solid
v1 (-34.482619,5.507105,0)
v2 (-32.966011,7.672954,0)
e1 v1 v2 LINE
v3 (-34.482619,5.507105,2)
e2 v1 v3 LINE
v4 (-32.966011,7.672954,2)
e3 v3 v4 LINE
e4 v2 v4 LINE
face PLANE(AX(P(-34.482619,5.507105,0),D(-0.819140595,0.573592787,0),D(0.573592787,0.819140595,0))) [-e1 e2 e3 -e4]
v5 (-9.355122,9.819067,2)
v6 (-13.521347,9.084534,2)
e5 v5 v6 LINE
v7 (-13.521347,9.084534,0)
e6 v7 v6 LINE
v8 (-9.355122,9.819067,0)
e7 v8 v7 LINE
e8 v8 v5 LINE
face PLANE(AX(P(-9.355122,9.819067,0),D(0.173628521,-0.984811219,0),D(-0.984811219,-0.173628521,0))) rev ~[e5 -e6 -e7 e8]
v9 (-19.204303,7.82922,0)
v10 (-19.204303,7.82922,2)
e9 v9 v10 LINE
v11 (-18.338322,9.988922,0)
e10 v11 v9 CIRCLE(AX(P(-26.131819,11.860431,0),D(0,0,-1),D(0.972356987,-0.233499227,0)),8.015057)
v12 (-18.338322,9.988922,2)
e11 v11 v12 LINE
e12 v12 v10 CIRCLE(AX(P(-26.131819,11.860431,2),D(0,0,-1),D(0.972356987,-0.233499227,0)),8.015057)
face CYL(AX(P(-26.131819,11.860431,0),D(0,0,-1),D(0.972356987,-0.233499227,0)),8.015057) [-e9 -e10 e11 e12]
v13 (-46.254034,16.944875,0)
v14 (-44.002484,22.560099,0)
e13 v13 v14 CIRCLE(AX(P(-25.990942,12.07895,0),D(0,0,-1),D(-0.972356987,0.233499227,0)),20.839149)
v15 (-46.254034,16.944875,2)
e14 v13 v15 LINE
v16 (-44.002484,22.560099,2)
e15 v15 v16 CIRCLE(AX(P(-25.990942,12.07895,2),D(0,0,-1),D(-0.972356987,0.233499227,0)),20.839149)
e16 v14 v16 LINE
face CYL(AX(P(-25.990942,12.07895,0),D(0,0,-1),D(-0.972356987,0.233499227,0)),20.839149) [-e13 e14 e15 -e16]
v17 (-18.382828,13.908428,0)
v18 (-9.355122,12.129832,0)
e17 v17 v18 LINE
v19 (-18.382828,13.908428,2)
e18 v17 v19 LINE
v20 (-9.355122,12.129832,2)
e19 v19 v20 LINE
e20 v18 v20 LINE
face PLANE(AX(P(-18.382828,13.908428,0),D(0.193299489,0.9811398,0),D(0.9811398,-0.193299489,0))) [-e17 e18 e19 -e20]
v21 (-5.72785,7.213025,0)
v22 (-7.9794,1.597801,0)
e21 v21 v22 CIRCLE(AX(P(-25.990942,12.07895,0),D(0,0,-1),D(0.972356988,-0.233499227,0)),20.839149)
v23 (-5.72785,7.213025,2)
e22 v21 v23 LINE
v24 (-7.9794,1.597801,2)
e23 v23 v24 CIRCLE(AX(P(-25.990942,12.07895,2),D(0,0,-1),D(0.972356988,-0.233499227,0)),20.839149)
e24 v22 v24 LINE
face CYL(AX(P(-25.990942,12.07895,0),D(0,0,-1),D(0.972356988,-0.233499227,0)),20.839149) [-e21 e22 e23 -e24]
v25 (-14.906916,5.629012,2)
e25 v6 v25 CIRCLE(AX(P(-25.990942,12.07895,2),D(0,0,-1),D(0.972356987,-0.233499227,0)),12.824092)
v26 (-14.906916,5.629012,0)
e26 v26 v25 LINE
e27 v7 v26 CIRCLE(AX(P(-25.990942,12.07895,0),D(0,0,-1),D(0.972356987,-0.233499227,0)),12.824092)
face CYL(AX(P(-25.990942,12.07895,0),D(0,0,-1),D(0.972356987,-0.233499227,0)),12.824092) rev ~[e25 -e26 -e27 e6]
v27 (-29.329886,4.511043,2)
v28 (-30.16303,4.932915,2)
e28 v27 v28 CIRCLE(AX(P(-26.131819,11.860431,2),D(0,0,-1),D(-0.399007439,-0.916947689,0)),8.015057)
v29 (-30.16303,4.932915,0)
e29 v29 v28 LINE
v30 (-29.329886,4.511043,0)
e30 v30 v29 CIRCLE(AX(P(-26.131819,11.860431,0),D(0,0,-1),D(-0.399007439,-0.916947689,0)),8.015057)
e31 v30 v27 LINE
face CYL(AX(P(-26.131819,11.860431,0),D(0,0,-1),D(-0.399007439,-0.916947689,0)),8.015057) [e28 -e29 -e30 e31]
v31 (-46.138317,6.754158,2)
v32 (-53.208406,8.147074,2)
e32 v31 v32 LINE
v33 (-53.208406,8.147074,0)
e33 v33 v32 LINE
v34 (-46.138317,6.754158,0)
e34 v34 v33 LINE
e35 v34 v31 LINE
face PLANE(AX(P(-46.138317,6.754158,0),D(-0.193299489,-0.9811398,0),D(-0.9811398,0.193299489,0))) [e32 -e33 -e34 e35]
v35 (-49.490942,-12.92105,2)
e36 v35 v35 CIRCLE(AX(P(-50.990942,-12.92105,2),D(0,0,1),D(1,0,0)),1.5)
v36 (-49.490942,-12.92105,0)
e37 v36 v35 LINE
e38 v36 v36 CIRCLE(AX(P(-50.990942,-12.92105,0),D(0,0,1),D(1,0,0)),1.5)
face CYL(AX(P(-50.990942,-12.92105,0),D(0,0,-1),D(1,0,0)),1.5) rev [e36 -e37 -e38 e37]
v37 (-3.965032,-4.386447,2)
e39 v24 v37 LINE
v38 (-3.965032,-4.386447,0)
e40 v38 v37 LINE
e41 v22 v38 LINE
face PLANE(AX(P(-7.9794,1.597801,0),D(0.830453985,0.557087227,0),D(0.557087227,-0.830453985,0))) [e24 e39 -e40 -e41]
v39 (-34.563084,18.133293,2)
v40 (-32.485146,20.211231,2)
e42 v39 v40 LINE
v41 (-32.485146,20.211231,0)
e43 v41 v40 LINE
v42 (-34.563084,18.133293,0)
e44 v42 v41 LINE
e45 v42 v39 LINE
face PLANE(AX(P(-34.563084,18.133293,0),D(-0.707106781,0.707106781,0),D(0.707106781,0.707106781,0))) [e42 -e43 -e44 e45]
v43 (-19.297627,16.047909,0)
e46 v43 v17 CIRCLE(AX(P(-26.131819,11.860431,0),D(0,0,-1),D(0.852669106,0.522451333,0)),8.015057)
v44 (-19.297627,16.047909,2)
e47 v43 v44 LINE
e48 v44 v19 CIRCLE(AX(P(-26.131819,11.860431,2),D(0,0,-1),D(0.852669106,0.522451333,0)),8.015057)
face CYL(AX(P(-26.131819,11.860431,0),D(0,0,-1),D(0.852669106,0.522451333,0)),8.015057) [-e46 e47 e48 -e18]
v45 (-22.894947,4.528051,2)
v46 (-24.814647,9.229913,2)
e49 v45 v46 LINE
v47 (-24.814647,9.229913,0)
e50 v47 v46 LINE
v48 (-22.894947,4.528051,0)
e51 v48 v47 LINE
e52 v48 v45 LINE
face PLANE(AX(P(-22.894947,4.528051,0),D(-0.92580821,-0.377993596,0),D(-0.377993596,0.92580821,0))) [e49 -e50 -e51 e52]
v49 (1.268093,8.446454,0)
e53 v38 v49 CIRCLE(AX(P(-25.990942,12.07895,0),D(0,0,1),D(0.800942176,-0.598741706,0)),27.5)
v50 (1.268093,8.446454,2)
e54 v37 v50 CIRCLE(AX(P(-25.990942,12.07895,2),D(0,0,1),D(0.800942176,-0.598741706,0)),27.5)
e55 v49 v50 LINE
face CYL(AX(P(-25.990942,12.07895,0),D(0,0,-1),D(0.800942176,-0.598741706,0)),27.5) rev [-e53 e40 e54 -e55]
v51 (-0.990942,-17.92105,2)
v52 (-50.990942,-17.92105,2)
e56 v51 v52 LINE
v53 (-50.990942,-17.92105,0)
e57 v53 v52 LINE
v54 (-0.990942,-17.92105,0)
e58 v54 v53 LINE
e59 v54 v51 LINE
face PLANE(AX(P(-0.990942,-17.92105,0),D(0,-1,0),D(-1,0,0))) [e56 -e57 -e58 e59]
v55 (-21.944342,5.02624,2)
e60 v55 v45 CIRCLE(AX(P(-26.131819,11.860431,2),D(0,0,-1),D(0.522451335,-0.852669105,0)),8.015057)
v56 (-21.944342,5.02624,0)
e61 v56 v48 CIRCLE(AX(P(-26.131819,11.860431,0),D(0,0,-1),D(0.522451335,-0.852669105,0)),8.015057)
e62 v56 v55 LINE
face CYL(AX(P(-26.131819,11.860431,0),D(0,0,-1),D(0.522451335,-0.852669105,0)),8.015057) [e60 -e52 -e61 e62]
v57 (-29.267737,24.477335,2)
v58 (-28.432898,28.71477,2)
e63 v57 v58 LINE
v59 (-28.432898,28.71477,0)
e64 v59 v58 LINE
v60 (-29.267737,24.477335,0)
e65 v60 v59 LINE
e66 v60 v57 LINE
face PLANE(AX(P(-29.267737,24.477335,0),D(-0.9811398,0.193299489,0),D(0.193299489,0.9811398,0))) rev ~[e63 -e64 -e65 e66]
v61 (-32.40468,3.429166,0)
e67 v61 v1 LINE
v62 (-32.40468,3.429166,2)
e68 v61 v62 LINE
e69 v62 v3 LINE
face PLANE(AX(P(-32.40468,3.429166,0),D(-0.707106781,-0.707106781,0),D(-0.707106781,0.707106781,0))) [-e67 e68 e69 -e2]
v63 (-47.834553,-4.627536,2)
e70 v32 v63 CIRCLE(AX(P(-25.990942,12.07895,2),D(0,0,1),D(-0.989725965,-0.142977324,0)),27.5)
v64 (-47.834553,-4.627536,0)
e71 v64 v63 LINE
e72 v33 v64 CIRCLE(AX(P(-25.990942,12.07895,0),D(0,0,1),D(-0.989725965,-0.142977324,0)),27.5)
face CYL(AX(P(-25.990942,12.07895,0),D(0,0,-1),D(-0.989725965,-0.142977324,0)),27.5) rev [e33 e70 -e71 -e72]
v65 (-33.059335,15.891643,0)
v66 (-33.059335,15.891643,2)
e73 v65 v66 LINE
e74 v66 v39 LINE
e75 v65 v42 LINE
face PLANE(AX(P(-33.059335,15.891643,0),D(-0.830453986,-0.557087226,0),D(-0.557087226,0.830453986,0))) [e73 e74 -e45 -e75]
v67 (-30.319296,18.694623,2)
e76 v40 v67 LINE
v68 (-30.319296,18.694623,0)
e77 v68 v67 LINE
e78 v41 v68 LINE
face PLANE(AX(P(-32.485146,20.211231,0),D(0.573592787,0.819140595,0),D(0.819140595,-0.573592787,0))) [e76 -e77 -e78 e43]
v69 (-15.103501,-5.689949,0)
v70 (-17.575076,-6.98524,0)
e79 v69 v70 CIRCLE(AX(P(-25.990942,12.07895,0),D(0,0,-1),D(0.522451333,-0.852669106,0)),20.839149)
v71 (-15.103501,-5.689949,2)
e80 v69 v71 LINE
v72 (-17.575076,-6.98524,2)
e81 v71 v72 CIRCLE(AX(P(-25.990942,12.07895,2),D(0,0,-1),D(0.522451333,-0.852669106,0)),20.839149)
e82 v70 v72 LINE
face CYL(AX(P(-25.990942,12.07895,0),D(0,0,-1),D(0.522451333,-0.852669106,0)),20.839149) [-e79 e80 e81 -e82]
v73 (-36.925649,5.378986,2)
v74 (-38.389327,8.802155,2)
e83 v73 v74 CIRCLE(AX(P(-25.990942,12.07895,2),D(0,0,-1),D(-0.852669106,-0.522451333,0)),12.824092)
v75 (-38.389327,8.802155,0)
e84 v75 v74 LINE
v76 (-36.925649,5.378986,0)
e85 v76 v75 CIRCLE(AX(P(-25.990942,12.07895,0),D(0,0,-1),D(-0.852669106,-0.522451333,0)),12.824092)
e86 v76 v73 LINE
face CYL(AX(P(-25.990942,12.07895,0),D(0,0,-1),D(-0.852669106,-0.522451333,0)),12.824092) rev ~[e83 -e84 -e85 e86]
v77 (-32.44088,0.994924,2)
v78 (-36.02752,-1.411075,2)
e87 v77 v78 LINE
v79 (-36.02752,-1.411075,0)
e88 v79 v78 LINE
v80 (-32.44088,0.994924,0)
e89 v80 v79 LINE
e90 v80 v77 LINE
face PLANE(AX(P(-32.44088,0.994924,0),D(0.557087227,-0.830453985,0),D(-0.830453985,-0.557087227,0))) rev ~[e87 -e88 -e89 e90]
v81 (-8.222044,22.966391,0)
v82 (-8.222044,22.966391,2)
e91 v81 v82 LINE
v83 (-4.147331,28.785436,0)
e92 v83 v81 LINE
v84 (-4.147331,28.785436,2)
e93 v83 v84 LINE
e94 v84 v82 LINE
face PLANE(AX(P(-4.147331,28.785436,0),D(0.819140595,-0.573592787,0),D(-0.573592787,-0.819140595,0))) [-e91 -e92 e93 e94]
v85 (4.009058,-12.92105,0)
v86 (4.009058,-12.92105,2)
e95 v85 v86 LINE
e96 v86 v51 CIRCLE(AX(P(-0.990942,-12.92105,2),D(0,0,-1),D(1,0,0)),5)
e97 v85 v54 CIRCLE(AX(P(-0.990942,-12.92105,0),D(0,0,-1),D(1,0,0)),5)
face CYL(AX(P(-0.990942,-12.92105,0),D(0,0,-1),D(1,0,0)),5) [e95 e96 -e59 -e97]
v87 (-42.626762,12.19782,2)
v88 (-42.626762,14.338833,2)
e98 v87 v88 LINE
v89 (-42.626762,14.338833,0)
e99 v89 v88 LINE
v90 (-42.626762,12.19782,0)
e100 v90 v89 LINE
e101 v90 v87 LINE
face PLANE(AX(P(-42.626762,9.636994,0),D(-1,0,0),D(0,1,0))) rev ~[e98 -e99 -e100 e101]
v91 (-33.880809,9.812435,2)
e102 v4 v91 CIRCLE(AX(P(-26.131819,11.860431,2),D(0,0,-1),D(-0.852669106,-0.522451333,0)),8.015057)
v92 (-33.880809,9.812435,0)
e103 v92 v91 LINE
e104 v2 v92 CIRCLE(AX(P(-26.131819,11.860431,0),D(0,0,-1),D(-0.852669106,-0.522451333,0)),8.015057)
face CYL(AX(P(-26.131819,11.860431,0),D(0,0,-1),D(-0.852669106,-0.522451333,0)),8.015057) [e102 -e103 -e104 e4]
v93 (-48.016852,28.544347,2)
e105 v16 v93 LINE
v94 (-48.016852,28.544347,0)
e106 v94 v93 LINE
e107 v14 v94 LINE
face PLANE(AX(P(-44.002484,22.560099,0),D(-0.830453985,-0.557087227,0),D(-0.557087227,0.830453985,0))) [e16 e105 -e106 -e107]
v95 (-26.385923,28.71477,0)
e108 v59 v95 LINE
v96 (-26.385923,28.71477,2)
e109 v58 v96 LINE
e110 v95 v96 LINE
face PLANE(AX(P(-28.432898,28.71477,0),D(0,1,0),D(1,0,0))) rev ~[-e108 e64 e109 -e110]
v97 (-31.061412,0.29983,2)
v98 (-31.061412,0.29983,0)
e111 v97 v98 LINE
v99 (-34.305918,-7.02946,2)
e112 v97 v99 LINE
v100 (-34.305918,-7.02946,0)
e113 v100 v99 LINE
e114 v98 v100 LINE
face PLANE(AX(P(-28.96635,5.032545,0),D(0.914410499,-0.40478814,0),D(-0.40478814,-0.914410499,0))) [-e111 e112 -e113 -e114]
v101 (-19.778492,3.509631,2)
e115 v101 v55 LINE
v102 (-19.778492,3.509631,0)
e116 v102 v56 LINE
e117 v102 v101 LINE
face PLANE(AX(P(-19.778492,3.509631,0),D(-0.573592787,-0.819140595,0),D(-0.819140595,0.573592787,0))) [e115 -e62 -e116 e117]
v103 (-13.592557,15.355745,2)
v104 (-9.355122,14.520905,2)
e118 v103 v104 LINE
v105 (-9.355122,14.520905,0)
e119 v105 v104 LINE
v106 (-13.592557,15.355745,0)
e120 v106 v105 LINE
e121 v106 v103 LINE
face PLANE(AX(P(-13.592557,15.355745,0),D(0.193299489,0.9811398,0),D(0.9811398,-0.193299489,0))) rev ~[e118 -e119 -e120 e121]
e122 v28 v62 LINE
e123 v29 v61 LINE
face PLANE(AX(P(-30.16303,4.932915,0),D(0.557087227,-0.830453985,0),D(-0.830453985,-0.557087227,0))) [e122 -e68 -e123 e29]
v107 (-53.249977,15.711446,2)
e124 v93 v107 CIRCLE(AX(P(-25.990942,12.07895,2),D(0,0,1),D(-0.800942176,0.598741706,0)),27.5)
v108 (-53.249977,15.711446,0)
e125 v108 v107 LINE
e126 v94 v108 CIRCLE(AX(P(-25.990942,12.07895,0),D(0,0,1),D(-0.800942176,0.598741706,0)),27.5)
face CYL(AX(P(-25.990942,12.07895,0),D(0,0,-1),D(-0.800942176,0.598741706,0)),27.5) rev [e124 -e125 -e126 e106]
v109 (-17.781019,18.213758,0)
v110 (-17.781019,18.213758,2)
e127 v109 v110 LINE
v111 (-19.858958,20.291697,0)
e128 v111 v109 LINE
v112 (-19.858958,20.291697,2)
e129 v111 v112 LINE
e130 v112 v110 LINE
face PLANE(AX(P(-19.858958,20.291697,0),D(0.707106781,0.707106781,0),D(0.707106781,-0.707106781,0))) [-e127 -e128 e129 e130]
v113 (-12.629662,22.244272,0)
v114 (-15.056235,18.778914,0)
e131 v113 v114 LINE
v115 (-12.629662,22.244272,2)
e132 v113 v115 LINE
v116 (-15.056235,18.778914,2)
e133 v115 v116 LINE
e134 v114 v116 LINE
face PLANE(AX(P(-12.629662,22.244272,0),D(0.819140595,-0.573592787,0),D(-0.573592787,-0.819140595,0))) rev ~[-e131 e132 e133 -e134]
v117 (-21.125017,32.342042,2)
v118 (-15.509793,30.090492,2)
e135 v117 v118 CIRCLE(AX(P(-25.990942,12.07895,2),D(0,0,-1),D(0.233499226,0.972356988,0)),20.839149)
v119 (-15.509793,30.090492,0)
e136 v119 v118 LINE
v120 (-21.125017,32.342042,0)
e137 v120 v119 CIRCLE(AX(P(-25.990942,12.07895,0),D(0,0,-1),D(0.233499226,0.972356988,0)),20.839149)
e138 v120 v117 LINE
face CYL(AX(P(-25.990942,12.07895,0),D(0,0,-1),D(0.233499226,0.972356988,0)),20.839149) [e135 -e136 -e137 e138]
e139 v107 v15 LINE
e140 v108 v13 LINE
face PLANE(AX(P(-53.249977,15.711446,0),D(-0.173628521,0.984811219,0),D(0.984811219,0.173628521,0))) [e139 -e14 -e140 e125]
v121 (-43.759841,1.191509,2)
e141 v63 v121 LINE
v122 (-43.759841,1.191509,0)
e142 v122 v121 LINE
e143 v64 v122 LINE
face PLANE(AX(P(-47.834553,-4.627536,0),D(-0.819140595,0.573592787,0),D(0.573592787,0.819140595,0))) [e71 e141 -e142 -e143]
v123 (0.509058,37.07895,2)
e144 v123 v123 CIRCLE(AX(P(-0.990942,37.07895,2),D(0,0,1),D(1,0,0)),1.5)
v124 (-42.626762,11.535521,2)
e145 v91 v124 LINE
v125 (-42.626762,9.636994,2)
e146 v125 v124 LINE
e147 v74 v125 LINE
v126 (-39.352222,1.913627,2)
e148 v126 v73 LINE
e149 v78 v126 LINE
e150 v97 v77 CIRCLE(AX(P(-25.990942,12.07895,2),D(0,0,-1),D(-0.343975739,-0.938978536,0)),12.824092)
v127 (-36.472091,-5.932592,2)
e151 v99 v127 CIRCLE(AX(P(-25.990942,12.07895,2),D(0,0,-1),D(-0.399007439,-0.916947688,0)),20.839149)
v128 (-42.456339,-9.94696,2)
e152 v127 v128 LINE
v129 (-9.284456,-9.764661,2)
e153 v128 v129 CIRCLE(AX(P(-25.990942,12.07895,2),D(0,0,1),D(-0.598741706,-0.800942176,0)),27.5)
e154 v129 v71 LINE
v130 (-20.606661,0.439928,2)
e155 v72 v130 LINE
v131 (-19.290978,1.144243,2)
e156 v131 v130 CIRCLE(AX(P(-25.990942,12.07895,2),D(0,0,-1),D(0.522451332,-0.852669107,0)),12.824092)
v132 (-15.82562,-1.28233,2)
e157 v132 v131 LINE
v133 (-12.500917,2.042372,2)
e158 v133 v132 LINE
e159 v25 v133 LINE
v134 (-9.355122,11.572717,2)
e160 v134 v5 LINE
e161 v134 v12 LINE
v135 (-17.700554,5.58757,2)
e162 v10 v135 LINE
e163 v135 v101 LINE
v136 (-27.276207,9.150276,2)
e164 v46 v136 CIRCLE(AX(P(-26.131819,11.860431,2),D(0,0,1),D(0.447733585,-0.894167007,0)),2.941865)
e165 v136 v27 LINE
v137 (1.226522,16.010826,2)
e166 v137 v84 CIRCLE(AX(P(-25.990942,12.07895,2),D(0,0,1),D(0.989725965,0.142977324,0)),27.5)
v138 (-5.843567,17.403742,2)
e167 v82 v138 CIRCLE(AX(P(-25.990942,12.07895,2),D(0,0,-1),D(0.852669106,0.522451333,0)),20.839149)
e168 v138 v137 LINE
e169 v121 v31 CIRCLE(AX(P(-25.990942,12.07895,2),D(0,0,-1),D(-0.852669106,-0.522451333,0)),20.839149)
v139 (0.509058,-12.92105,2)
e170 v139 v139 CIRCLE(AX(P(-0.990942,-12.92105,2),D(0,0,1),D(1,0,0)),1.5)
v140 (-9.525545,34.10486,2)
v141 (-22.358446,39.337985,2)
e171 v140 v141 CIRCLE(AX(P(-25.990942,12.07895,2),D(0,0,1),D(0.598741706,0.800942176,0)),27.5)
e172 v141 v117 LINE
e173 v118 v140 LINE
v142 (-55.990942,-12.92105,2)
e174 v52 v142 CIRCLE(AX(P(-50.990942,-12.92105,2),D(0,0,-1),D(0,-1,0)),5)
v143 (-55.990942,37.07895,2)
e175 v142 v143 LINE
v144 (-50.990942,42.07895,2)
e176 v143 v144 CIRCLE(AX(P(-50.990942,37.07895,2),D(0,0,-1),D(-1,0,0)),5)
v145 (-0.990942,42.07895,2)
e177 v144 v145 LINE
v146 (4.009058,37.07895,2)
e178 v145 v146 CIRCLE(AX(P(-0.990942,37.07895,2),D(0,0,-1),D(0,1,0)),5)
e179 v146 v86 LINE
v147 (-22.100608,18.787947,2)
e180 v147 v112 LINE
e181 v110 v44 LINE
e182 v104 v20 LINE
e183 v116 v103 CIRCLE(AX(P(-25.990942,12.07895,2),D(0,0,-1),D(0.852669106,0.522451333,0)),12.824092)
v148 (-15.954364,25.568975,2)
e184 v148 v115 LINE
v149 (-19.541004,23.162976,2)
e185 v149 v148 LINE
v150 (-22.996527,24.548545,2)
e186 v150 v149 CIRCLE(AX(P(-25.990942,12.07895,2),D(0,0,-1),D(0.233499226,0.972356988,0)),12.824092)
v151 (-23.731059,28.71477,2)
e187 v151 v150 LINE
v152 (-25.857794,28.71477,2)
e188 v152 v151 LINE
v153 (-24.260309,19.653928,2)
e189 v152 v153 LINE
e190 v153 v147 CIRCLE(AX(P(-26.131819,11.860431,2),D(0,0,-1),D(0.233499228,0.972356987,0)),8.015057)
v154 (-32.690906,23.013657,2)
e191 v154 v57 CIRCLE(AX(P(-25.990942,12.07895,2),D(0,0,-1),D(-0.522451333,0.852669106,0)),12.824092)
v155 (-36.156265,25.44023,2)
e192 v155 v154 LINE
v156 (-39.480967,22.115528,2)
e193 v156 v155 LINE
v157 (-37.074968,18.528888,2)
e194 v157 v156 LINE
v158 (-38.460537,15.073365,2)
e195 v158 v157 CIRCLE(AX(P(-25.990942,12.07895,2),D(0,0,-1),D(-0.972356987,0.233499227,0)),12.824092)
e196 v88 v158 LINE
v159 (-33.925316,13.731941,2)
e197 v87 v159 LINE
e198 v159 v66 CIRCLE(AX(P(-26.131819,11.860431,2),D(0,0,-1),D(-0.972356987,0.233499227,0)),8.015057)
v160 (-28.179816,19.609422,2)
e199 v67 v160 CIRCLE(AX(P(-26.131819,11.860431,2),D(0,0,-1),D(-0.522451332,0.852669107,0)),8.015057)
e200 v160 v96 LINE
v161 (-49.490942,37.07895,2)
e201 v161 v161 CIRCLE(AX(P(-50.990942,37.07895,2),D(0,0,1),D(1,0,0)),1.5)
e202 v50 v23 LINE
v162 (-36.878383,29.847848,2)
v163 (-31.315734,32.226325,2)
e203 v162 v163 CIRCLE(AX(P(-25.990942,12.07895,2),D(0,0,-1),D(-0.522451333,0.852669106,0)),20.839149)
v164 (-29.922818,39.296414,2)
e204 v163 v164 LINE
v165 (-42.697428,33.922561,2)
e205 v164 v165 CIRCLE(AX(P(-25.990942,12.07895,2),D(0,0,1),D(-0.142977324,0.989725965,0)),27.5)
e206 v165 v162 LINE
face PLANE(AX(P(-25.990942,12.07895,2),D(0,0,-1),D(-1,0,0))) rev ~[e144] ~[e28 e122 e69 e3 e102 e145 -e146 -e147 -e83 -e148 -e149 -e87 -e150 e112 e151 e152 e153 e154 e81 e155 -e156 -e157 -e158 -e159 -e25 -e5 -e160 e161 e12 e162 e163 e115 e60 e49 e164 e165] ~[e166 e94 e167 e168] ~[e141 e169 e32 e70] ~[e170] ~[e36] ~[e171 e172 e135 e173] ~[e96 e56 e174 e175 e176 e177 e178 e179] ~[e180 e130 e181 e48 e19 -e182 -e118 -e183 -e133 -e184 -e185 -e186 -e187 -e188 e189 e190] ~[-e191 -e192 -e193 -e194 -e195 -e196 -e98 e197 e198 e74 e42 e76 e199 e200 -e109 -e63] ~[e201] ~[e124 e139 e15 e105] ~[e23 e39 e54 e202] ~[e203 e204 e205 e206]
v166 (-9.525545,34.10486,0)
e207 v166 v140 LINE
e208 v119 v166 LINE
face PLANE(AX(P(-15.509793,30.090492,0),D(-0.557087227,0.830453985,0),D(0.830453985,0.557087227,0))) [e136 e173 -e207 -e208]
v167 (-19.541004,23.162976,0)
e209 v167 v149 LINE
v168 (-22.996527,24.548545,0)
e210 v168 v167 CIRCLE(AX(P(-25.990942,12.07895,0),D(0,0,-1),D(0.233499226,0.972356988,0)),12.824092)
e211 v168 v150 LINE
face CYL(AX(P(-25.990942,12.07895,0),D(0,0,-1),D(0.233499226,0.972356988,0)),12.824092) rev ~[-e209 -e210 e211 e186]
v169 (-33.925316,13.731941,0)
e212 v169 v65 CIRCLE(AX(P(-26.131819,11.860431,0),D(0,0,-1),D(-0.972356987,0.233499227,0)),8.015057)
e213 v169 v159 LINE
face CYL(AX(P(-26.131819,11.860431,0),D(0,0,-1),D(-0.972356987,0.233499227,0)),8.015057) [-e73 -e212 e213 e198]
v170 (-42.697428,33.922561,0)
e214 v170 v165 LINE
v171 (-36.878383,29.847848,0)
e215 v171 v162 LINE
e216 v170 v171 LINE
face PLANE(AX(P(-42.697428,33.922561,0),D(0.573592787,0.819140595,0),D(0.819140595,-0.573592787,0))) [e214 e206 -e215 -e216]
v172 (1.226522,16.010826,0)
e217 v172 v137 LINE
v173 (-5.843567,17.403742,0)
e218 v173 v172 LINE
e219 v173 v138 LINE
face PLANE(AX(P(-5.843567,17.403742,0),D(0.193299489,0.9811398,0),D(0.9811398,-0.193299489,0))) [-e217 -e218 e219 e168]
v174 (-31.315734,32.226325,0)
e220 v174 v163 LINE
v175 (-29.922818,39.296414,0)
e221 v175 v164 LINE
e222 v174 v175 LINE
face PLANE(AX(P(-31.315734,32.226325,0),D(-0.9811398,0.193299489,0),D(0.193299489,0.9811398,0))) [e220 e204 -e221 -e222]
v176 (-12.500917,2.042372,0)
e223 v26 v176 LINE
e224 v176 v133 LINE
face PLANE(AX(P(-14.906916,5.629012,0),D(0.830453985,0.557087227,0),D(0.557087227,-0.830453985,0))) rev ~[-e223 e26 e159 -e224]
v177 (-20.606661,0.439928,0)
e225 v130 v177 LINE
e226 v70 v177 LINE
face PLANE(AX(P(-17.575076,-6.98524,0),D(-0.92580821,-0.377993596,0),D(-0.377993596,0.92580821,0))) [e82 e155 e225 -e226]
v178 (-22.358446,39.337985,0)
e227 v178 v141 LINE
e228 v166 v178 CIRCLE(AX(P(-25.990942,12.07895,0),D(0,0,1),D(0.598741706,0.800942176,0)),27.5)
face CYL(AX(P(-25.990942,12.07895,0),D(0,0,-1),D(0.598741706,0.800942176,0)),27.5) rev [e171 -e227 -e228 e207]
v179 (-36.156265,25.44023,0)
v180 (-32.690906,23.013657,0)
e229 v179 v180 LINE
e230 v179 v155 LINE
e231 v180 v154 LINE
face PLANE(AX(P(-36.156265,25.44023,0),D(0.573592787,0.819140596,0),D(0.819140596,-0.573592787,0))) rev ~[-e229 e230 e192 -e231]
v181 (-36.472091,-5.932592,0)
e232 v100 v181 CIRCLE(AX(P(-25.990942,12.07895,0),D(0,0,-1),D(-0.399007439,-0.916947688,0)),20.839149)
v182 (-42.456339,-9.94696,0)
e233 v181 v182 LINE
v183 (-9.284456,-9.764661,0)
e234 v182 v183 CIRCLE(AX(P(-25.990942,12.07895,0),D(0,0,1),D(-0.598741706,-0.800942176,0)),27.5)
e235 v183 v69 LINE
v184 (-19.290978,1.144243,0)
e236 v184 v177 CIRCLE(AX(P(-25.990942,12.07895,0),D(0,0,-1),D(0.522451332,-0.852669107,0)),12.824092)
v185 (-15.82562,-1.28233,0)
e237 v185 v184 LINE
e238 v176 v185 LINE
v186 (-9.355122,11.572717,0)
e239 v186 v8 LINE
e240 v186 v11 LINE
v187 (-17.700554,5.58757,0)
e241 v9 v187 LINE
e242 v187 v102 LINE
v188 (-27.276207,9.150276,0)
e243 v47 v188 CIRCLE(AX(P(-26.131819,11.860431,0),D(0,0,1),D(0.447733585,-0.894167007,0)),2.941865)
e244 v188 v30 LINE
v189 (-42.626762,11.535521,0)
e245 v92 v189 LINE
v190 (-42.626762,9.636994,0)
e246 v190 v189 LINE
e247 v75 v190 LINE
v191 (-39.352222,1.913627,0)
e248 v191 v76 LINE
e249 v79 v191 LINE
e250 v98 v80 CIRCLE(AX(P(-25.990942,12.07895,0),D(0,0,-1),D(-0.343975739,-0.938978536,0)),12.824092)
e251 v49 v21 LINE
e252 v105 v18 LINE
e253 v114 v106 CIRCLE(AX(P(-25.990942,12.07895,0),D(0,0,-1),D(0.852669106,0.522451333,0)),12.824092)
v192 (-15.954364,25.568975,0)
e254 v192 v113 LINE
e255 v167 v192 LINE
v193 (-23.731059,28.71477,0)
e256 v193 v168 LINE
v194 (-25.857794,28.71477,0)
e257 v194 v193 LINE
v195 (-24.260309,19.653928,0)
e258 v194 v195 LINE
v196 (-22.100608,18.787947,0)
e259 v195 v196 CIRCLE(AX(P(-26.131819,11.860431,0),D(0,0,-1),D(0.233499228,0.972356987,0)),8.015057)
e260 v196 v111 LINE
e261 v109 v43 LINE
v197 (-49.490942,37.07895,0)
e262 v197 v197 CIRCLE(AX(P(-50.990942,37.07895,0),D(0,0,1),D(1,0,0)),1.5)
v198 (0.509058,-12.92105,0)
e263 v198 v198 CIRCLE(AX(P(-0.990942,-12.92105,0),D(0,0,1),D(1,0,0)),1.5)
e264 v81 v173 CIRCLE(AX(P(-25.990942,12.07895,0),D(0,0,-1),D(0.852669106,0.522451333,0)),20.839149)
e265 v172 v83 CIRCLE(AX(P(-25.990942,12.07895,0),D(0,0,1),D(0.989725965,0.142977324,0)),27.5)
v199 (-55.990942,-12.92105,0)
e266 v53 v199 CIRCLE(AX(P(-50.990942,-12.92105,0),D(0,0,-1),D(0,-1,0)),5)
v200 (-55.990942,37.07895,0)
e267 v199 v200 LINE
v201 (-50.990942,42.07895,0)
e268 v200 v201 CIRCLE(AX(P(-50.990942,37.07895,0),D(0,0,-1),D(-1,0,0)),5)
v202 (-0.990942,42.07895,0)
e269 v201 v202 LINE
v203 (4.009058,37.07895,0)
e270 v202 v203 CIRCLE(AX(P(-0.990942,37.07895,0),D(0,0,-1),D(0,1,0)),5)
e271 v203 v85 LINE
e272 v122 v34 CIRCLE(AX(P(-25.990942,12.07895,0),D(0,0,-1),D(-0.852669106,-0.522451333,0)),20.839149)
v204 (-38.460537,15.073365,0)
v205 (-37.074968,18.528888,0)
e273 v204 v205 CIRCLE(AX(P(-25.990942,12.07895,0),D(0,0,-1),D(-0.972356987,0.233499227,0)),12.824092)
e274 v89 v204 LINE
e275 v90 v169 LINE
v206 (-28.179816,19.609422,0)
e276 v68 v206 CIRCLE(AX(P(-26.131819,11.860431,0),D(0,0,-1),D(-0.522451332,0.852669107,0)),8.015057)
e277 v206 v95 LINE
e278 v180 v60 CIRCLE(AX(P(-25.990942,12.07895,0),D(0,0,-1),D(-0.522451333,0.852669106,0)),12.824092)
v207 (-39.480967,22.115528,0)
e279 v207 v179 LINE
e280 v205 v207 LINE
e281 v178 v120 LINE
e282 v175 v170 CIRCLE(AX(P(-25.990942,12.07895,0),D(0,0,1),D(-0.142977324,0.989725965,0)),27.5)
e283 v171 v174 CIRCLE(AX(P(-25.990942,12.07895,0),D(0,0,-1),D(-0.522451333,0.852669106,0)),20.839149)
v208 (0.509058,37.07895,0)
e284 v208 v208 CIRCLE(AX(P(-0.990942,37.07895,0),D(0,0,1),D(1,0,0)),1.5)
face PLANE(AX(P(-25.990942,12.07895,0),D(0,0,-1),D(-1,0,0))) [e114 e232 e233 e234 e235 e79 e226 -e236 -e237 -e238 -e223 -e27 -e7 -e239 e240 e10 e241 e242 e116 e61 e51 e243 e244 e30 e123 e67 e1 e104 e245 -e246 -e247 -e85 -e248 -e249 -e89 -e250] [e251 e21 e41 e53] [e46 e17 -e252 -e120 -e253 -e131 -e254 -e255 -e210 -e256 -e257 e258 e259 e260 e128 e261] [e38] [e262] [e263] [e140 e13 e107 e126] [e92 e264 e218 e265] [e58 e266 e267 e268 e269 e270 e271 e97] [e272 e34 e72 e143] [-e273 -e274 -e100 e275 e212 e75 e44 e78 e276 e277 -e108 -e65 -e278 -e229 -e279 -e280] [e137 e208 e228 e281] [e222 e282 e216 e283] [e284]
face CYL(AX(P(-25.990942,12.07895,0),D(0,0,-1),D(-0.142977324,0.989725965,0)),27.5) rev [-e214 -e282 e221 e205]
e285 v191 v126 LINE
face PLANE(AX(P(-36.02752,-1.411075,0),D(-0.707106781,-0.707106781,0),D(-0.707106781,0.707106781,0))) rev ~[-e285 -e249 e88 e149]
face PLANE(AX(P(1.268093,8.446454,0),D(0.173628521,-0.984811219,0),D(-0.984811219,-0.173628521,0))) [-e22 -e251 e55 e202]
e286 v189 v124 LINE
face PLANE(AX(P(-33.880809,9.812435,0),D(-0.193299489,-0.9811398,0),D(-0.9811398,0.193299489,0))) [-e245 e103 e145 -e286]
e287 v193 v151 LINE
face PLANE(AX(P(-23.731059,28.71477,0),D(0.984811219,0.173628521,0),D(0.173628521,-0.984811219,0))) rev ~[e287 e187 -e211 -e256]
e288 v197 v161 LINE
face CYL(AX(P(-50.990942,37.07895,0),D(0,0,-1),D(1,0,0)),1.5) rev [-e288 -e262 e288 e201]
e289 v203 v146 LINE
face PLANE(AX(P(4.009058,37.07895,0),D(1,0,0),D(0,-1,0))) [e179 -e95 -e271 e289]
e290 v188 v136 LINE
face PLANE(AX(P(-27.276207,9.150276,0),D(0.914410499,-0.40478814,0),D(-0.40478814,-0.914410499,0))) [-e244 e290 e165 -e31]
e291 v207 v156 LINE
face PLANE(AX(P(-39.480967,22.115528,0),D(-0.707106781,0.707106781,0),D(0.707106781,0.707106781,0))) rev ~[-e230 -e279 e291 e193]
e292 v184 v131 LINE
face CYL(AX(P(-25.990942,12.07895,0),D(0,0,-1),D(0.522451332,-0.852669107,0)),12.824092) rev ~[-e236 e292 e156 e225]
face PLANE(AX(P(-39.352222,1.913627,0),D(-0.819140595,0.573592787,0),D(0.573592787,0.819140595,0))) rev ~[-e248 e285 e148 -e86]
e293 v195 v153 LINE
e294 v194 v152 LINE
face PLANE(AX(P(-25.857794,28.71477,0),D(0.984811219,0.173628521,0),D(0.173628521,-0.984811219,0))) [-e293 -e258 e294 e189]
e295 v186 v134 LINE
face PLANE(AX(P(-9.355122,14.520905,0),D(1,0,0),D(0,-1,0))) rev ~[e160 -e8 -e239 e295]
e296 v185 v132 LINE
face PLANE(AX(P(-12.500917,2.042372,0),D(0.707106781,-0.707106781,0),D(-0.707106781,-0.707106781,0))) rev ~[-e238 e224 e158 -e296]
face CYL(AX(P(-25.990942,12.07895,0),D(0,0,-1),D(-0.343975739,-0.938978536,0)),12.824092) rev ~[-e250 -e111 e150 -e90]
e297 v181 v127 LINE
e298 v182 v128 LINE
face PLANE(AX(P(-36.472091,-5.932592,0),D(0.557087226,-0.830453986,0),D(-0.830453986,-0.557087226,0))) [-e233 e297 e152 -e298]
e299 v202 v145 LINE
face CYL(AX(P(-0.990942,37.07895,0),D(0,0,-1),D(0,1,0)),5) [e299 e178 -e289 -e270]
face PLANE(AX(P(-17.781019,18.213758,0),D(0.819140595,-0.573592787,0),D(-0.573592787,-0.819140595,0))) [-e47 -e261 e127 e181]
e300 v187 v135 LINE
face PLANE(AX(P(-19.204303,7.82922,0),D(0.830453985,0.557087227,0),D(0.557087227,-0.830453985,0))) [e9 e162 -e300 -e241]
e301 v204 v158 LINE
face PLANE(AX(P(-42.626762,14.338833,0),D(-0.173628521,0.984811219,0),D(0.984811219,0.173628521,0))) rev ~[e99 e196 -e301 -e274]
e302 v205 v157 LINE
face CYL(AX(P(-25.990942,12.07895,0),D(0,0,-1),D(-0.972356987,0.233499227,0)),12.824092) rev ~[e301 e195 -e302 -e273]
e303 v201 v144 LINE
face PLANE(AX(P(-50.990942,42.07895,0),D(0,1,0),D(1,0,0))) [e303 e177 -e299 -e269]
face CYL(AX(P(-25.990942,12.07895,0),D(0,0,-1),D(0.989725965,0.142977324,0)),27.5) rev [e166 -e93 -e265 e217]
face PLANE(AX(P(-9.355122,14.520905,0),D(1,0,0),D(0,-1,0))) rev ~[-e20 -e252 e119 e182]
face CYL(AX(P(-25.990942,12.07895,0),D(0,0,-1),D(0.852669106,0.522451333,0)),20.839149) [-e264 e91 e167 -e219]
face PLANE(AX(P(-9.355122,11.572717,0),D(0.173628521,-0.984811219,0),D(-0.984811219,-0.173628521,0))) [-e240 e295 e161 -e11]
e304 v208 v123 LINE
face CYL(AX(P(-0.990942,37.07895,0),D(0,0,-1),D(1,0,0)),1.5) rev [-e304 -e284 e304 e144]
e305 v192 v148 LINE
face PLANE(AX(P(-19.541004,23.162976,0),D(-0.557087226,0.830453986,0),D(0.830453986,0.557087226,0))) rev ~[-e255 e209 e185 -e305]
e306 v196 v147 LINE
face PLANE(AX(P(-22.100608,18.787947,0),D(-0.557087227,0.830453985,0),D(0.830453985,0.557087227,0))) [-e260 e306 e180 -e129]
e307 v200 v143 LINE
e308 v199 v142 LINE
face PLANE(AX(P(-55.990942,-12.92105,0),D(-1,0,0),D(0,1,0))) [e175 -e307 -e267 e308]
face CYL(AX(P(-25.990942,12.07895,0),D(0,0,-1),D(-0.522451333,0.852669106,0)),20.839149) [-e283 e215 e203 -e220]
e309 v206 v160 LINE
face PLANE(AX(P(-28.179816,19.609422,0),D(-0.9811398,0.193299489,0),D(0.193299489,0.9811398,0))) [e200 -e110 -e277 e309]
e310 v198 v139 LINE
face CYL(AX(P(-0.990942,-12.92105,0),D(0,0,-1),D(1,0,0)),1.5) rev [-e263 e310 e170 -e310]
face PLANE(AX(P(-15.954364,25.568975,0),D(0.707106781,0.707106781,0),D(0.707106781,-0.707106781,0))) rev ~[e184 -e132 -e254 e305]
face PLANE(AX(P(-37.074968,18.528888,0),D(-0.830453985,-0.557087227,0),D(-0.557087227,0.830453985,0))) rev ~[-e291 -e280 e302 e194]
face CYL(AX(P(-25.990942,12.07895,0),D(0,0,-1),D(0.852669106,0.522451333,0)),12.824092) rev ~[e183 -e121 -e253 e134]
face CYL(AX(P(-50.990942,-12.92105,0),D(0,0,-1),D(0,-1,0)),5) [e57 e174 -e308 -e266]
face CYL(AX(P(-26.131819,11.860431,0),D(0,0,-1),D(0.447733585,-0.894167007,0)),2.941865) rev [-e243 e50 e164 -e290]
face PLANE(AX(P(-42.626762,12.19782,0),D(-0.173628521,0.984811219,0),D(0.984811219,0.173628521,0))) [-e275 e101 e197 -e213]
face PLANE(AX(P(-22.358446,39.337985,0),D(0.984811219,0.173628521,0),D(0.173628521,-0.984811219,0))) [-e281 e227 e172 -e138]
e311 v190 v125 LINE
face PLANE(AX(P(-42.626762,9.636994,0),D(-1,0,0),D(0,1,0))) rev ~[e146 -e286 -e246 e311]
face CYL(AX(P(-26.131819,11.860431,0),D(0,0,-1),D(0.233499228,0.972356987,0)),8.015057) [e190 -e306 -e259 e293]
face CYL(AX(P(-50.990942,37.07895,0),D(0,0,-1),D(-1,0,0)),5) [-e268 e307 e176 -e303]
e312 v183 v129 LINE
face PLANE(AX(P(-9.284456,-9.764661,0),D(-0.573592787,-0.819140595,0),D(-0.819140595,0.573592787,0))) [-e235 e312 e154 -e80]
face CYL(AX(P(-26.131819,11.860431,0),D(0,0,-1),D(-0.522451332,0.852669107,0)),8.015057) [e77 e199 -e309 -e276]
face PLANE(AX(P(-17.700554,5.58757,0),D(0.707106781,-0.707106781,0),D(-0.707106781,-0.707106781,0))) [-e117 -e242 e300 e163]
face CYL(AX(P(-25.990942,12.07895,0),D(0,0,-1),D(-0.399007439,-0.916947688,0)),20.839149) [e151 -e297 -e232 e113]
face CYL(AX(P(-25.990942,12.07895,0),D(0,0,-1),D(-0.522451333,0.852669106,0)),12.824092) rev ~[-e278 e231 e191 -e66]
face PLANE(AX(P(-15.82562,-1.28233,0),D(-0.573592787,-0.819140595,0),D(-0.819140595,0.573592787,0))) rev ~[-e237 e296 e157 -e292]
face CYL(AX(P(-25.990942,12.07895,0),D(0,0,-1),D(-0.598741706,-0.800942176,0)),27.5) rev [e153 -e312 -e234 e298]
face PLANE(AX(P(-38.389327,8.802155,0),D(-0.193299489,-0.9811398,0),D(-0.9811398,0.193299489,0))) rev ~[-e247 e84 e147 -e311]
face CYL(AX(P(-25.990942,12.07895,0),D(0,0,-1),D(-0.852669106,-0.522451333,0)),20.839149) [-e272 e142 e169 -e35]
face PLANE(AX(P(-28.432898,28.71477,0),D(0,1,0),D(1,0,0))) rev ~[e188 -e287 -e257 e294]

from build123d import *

# Parameters (mm, degrees)
SCHIZZO1_R                   = 1.5
ESTRUSIONE_ESTRUSIONE1_DEPTH = 2
TAGLIO_ESTRUSIONE1_DEPTH     = 2
ESTRUSIONE_ESTRUSIONE2_DEPTH = 2


with BuildPart() as part:
    # Schizzo1 → Estrusione-Estrusione1 (new body)
    with BuildSketch(Plane.XY):
        with BuildLine():
            Line((4.009057919, 37.078949925), (4.009057919, -12.921050075))
            ThreePointArc((4.009057919, -12.921050075), (2.544591824, -16.456583981), (-0.990942081, -17.921050075))
            Line((-0.990942081, -17.921050075), (-50.990942081, -17.921050075))
            ThreePointArc((-50.990942081, -17.921050075), (-54.526475987, -16.456583981), (-55.990942081, -12.921050075))
            Line((-55.990942081, -12.921050075), (-55.990942081, 37.078949925))
            ThreePointArc((-55.990942081, 37.078949925), (-54.526475987, 40.614483831), (-50.990942081, 42.078949925))
            Line((-50.990942081, 42.078949925), (-0.990942081, 42.078949925))
            ThreePointArc((-0.990942081, 42.078949925), (2.544591824, 40.614483831), (4.009057919, 37.078949925))
        make_face()
        with Locations((-50.990942081, 37.078949925)):
            Circle(SCHIZZO1_R, mode=Mode.SUBTRACT)
        with Locations((-0.990942081, 37.078949925)):
            Circle(SCHIZZO1_R, mode=Mode.SUBTRACT)
        with Locations((-50.990942081, -12.921050075)):
            Circle(SCHIZZO1_R, mode=Mode.SUBTRACT)
        with Locations((-0.990942081, -12.921050075)):
            Circle(SCHIZZO1_R, mode=Mode.SUBTRACT)
        with BuildLine():
            Line((-31.315733716, 32.226325066), (-29.922818488, 39.296413949))
            ThreePointArc((-29.922818488, 39.296413949), (-36.65420027, 37.427419796), (-42.697428035, 33.922560594))
            Line((-42.697428035, 33.922560594), (-36.878383255, 29.847848476))
            ThreePointArc((-36.878383255, 29.847848476), (-34.183829904, 31.240022968), (-31.315733716, 32.226325066))
        make_face(mode=Mode.SUBTRACT)
        with BuildLine():
            Line((-22.358446359, 39.337984663), (-21.125016906, 32.342042069))
            ThreePointArc((-21.125016906, 32.342042069), (-18.235263935, 31.421121146), (-15.509792769, 30.090491783))
            Line((-15.509792769, 30.090491783), (-9.525545173, 34.104859773))
            ThreePointArc((-9.525545173, 34.104859773), (-15.606929318, 37.543087038), (-22.358446359, 39.337984663))
        make_face(mode=Mode.SUBTRACT)
        with BuildLine():
            Line((-4.147331412, 28.785435879), (-8.22204353, 22.966391099))
            ThreePointArc((-8.22204353, 22.966391099), (-6.829869038, 20.271837748), (-5.84356694, 17.403741559))
            Line((-5.84356694, 17.403741559), (1.226521943, 16.010826332))
            ThreePointArc((1.226521943, 16.010826332), (-0.642472211, 22.742208114), (-4.147331412, 28.785435879))
        make_face(mode=Mode.SUBTRACT)
        with BuildLine():
            Line((1.268092656, 8.446454203), (-5.727849938, 7.213024749))
            ThreePointArc((-5.727849938, 7.213024749), (-6.648770861, 4.323271778), (-7.979400223, 1.597800612))
            Line((-7.979400223, 1.597800612), (-3.965032233, -4.386446983))
            ThreePointArc((-3.965032233, -4.386446983), (-0.526804968, 1.694937161), (1.268092656, 8.446454203))
        make_face(mode=Mode.SUBTRACT)
        with BuildLine():
            Line((-9.284456128, -9.764660744), (-15.103500908, -5.689948626))
            ThreePointArc((-15.103500908, -5.689948626), (-16.317583854, -6.379009649), (-17.575076336, -6.985239929))
            Line((-17.575076336, -6.985239929), (-22.566296054, 5.239602614))
            ThreePointArc((-22.566296054, 5.239602614), (-26.23827157, 19.723797875), (-28.966350145, 5.032545245))
            Line((-28.966350145, 5.032545245), (-34.305917557, -7.029459582))
            ThreePointArc((-34.305917557, -7.029459582), (-35.404993092, -6.512601237), (-36.472091394, -5.932591934))
            Line((-36.472091394, -5.932591934), (-42.45633899, -9.946959923))
            ThreePointArc((-42.45633899, -9.946959923), (-25.839815546, -15.420634813), (-9.284456128, -9.764660744))
        make_face(mode=Mode.SUBTRACT)
        with BuildLine():
            Line((-47.834552751, -4.627536029), (-43.759840633, 1.191508751))
            ThreePointArc((-43.759840633, 1.191508751), (-45.152015125, 3.886062102), (-46.138317223, 6.754158291))
            Line((-46.138317223, 6.754158291), (-53.208406106, 8.147073518))
            ThreePointArc((-53.208406106, 8.147073518), (-51.339411952, 1.415691736), (-47.834552751, -4.627536029))
        make_face(mode=Mode.SUBTRACT)
        with BuildLine():
            Line((-53.249976819, 15.711445647), (-46.254034225, 16.944875101))
            ThreePointArc((-46.254034225, 16.944875101), (-45.333113302, 19.834628071), (-44.00248394, 22.560099238))
            Line((-44.00248394, 22.560099238), (-48.01685193, 28.544346833))
            ThreePointArc((-48.01685193, 28.544346833), (-51.455079195, 22.462962688), (-53.249976819, 15.711445647))
        make_face(mode=Mode.SUBTRACT)
    extrude(amount=ESTRUSIONE_ESTRUSIONE1_DEPTH)

    # Schizzo2 → Taglio-Estrusione1 (cut)
    with BuildSketch(Plane.XY):
        with BuildLine():
            Line((-29.267736933, 24.477334627), (-28.432897549, 28.714770282))
            Line((-28.432897549, 28.714770282), (-23.731058754, 28.714770282))
            Line((-23.731058754, 28.714770282), (-22.996526589, 24.54854509))
            ThreePointArc((-22.996526589, 24.54854509), (-21.218217068, 23.981824522), (-19.541004043, 23.162975684))
            Line((-19.541004043, 23.162975684), (-15.954363967, 25.56897458))
            Line((-15.954363967, 25.56897458), (-12.629661871, 22.244272484))
            Line((-12.629661871, 22.244272484), (-15.056235281, 18.778913724))
            ThreePointArc((-15.056235281, 18.778913724), (-14.199512517, 17.120727047), (-13.592557379, 15.355744777))
            Line((-13.592557379, 15.355744777), (-9.355121725, 14.520905393))
            Line((-9.355121725, 14.520905393), (-9.355121725, 9.819066597))
            Line((-9.355121725, 9.819066597), (-13.521346916, 9.084534432))
            ThreePointArc((-13.521346916, 9.084534432), (-14.088067484, 7.306224912), (-14.906916322, 5.629011886))
            Line((-14.906916322, 5.629011886), (-12.500917426, 2.042371811))
            Line((-12.500917426, 2.042371811), (-15.825619522, -1.282330286))
            Line((-15.825619522, -1.282330286), (-19.290978282, 1.144243124))
            ThreePointArc((-19.290978282, 1.144243124), (-20.038106249, 0.720205572), (-20.811947777, 0.347140784))
            Line((-20.811947777, 0.347140784), (-23.883467603, 7.870120811))
            ThreePointArc((-23.883467603, 7.870120811), (-26.524135322, 16.755636376), (-27.096941459, 7.503749758))
            Line((-27.096941459, 7.503749758), (-30.402118498, 0.037403083))
            ThreePointArc((-30.402118498, 0.037403083), (-31.442562341, 0.471316046), (-32.44088012, 0.994924166))
            Line((-32.44088012, 0.994924166), (-36.027520196, -1.411074731))
            Line((-36.027520196, -1.411074731), (-39.352222292, 1.913627366))
            Line((-39.352222292, 1.913627366), (-36.925648882, 5.378986126))
            ThreePointArc((-36.925648882, 5.378986126), (-37.782371646, 7.037172803), (-38.389326784, 8.802155073))
            Line((-38.389326784, 8.802155073), (-42.626762438, 9.636994457))
            Line((-42.626762438, 9.636994457), (-42.626762438, 14.338833252))
            Line((-42.626762438, 14.338833252), (-38.460537247, 15.073365418))
            ThreePointArc((-38.460537247, 15.073365418), (-37.893816679, 16.851674938), (-37.074967841, 18.528887964))
            Line((-37.074967841, 18.528887964), (-39.480966737, 22.115528039))
            Line((-39.480966737, 22.115528039), (-36.156264641, 25.440230135))
            Line((-36.156264641, 25.440230135), (-32.690905881, 23.013656726))
            ThreePointArc((-32.690905881, 23.013656726), (-31.032719203, 23.87037949), (-29.267736933, 24.477334627))
        make_face()
    extrude(amount=TAGLIO_ESTRUSIONE1_DEPTH, mode=Mode.SUBTRACT)

    # Schizzo3 → Estrusione-Estrusione2 (add)
    with BuildSketch(Plane.XY):
        with BuildLine():
            Line((-28.179815713, 19.609421722), (-26.38592332, 28.714770282))
            Line((-26.38592332, 28.714770282), (-25.857793685, 28.714770282))
            Line((-25.857793685, 28.714770282), (-24.260309247, 19.653928262))
            ThreePointArc((-24.260309247, 19.653928262), (-23.148865797, 19.299727906), (-22.100607656, 18.787947383))
            Line((-22.100607656, 18.787947383), (-19.858957609, 20.291696693))
            Line((-19.858957609, 20.291696693), (-17.781018799, 18.213757883))
            Line((-17.781018799, 18.213757883), (-19.29762718, 16.047908658))
            ThreePointArc((-19.29762718, 16.047908658), (-18.762175452, 15.011541984), (-18.382828491, 13.908428066))
            Line((-18.382828491, 13.908428066), (-9.355121725, 12.129832289))
            Line((-9.355121725, 12.129832289), (-9.355121725, 11.572717293))
            Line((-9.355121725, 11.572717293), (-18.338321952, 9.9889216))
            ThreePointArc((-18.338321952, 9.9889216), (-18.692522307, 8.87747815), (-19.204302831, 7.829220009))
            Line((-19.204302831, 7.829220009), (-17.70055352, 5.587569962))
            Line((-17.70055352, 5.587569962), (-19.778492331, 3.509631152))
            Line((-19.778492331, 3.509631152), (-21.944341556, 5.026239533))
            ThreePointArc((-21.944341556, 5.026239533), (-22.411296535, 4.761216062), (-22.89494749, 4.52805057))
            Line((-22.89494749, 4.52805057), (-24.814647381, 9.229913087))
            ThreePointArc((-24.814647381, 9.229913087), (-26.226945656, 14.800757418), (-27.276206647, 9.150275637))
            Line((-27.276206647, 9.150275637), (-29.329886421, 4.511043011))
            ThreePointArc((-29.329886421, 4.511043011), (-29.75260778, 4.709834682), (-30.163030204, 4.932915184))
            Line((-30.163030204, 4.932915184), (-32.404680252, 3.429165873))
            Line((-32.404680252, 3.429165873), (-34.482619062, 5.507104684))
            Line((-34.482619062, 5.507104684), (-32.966010681, 7.672953909))
            ThreePointArc((-32.966010681, 7.672953909), (-33.501462408, 8.709320582), (-33.880809369, 9.812434501))
            Line((-33.880809369, 9.812434501), (-42.626762438, 11.535520506))
            Line((-42.626762438, 11.535520506), (-42.626762438, 12.197820253))
            Line((-42.626762438, 12.197820253), (-33.925315908, 13.731940966))
            ThreePointArc((-33.925315908, 13.731940966), (-33.571115553, 14.843384416), (-33.05933503, 15.891642557))
            Line((-33.05933503, 15.891642557), (-34.56308434, 18.133292605))
            Line((-34.56308434, 18.133292605), (-32.48514553, 20.211231415))
            Line((-32.48514553, 20.211231415), (-30.319296305, 18.694623034))
            ThreePointArc((-30.319296305, 18.694623034), (-29.282929631, 19.230074761), (-28.179815713, 19.609421722))
        make_face()
    extrude(amount=ESTRUSIONE_ESTRUSIONE2_DEPTH)


solid = part.part
